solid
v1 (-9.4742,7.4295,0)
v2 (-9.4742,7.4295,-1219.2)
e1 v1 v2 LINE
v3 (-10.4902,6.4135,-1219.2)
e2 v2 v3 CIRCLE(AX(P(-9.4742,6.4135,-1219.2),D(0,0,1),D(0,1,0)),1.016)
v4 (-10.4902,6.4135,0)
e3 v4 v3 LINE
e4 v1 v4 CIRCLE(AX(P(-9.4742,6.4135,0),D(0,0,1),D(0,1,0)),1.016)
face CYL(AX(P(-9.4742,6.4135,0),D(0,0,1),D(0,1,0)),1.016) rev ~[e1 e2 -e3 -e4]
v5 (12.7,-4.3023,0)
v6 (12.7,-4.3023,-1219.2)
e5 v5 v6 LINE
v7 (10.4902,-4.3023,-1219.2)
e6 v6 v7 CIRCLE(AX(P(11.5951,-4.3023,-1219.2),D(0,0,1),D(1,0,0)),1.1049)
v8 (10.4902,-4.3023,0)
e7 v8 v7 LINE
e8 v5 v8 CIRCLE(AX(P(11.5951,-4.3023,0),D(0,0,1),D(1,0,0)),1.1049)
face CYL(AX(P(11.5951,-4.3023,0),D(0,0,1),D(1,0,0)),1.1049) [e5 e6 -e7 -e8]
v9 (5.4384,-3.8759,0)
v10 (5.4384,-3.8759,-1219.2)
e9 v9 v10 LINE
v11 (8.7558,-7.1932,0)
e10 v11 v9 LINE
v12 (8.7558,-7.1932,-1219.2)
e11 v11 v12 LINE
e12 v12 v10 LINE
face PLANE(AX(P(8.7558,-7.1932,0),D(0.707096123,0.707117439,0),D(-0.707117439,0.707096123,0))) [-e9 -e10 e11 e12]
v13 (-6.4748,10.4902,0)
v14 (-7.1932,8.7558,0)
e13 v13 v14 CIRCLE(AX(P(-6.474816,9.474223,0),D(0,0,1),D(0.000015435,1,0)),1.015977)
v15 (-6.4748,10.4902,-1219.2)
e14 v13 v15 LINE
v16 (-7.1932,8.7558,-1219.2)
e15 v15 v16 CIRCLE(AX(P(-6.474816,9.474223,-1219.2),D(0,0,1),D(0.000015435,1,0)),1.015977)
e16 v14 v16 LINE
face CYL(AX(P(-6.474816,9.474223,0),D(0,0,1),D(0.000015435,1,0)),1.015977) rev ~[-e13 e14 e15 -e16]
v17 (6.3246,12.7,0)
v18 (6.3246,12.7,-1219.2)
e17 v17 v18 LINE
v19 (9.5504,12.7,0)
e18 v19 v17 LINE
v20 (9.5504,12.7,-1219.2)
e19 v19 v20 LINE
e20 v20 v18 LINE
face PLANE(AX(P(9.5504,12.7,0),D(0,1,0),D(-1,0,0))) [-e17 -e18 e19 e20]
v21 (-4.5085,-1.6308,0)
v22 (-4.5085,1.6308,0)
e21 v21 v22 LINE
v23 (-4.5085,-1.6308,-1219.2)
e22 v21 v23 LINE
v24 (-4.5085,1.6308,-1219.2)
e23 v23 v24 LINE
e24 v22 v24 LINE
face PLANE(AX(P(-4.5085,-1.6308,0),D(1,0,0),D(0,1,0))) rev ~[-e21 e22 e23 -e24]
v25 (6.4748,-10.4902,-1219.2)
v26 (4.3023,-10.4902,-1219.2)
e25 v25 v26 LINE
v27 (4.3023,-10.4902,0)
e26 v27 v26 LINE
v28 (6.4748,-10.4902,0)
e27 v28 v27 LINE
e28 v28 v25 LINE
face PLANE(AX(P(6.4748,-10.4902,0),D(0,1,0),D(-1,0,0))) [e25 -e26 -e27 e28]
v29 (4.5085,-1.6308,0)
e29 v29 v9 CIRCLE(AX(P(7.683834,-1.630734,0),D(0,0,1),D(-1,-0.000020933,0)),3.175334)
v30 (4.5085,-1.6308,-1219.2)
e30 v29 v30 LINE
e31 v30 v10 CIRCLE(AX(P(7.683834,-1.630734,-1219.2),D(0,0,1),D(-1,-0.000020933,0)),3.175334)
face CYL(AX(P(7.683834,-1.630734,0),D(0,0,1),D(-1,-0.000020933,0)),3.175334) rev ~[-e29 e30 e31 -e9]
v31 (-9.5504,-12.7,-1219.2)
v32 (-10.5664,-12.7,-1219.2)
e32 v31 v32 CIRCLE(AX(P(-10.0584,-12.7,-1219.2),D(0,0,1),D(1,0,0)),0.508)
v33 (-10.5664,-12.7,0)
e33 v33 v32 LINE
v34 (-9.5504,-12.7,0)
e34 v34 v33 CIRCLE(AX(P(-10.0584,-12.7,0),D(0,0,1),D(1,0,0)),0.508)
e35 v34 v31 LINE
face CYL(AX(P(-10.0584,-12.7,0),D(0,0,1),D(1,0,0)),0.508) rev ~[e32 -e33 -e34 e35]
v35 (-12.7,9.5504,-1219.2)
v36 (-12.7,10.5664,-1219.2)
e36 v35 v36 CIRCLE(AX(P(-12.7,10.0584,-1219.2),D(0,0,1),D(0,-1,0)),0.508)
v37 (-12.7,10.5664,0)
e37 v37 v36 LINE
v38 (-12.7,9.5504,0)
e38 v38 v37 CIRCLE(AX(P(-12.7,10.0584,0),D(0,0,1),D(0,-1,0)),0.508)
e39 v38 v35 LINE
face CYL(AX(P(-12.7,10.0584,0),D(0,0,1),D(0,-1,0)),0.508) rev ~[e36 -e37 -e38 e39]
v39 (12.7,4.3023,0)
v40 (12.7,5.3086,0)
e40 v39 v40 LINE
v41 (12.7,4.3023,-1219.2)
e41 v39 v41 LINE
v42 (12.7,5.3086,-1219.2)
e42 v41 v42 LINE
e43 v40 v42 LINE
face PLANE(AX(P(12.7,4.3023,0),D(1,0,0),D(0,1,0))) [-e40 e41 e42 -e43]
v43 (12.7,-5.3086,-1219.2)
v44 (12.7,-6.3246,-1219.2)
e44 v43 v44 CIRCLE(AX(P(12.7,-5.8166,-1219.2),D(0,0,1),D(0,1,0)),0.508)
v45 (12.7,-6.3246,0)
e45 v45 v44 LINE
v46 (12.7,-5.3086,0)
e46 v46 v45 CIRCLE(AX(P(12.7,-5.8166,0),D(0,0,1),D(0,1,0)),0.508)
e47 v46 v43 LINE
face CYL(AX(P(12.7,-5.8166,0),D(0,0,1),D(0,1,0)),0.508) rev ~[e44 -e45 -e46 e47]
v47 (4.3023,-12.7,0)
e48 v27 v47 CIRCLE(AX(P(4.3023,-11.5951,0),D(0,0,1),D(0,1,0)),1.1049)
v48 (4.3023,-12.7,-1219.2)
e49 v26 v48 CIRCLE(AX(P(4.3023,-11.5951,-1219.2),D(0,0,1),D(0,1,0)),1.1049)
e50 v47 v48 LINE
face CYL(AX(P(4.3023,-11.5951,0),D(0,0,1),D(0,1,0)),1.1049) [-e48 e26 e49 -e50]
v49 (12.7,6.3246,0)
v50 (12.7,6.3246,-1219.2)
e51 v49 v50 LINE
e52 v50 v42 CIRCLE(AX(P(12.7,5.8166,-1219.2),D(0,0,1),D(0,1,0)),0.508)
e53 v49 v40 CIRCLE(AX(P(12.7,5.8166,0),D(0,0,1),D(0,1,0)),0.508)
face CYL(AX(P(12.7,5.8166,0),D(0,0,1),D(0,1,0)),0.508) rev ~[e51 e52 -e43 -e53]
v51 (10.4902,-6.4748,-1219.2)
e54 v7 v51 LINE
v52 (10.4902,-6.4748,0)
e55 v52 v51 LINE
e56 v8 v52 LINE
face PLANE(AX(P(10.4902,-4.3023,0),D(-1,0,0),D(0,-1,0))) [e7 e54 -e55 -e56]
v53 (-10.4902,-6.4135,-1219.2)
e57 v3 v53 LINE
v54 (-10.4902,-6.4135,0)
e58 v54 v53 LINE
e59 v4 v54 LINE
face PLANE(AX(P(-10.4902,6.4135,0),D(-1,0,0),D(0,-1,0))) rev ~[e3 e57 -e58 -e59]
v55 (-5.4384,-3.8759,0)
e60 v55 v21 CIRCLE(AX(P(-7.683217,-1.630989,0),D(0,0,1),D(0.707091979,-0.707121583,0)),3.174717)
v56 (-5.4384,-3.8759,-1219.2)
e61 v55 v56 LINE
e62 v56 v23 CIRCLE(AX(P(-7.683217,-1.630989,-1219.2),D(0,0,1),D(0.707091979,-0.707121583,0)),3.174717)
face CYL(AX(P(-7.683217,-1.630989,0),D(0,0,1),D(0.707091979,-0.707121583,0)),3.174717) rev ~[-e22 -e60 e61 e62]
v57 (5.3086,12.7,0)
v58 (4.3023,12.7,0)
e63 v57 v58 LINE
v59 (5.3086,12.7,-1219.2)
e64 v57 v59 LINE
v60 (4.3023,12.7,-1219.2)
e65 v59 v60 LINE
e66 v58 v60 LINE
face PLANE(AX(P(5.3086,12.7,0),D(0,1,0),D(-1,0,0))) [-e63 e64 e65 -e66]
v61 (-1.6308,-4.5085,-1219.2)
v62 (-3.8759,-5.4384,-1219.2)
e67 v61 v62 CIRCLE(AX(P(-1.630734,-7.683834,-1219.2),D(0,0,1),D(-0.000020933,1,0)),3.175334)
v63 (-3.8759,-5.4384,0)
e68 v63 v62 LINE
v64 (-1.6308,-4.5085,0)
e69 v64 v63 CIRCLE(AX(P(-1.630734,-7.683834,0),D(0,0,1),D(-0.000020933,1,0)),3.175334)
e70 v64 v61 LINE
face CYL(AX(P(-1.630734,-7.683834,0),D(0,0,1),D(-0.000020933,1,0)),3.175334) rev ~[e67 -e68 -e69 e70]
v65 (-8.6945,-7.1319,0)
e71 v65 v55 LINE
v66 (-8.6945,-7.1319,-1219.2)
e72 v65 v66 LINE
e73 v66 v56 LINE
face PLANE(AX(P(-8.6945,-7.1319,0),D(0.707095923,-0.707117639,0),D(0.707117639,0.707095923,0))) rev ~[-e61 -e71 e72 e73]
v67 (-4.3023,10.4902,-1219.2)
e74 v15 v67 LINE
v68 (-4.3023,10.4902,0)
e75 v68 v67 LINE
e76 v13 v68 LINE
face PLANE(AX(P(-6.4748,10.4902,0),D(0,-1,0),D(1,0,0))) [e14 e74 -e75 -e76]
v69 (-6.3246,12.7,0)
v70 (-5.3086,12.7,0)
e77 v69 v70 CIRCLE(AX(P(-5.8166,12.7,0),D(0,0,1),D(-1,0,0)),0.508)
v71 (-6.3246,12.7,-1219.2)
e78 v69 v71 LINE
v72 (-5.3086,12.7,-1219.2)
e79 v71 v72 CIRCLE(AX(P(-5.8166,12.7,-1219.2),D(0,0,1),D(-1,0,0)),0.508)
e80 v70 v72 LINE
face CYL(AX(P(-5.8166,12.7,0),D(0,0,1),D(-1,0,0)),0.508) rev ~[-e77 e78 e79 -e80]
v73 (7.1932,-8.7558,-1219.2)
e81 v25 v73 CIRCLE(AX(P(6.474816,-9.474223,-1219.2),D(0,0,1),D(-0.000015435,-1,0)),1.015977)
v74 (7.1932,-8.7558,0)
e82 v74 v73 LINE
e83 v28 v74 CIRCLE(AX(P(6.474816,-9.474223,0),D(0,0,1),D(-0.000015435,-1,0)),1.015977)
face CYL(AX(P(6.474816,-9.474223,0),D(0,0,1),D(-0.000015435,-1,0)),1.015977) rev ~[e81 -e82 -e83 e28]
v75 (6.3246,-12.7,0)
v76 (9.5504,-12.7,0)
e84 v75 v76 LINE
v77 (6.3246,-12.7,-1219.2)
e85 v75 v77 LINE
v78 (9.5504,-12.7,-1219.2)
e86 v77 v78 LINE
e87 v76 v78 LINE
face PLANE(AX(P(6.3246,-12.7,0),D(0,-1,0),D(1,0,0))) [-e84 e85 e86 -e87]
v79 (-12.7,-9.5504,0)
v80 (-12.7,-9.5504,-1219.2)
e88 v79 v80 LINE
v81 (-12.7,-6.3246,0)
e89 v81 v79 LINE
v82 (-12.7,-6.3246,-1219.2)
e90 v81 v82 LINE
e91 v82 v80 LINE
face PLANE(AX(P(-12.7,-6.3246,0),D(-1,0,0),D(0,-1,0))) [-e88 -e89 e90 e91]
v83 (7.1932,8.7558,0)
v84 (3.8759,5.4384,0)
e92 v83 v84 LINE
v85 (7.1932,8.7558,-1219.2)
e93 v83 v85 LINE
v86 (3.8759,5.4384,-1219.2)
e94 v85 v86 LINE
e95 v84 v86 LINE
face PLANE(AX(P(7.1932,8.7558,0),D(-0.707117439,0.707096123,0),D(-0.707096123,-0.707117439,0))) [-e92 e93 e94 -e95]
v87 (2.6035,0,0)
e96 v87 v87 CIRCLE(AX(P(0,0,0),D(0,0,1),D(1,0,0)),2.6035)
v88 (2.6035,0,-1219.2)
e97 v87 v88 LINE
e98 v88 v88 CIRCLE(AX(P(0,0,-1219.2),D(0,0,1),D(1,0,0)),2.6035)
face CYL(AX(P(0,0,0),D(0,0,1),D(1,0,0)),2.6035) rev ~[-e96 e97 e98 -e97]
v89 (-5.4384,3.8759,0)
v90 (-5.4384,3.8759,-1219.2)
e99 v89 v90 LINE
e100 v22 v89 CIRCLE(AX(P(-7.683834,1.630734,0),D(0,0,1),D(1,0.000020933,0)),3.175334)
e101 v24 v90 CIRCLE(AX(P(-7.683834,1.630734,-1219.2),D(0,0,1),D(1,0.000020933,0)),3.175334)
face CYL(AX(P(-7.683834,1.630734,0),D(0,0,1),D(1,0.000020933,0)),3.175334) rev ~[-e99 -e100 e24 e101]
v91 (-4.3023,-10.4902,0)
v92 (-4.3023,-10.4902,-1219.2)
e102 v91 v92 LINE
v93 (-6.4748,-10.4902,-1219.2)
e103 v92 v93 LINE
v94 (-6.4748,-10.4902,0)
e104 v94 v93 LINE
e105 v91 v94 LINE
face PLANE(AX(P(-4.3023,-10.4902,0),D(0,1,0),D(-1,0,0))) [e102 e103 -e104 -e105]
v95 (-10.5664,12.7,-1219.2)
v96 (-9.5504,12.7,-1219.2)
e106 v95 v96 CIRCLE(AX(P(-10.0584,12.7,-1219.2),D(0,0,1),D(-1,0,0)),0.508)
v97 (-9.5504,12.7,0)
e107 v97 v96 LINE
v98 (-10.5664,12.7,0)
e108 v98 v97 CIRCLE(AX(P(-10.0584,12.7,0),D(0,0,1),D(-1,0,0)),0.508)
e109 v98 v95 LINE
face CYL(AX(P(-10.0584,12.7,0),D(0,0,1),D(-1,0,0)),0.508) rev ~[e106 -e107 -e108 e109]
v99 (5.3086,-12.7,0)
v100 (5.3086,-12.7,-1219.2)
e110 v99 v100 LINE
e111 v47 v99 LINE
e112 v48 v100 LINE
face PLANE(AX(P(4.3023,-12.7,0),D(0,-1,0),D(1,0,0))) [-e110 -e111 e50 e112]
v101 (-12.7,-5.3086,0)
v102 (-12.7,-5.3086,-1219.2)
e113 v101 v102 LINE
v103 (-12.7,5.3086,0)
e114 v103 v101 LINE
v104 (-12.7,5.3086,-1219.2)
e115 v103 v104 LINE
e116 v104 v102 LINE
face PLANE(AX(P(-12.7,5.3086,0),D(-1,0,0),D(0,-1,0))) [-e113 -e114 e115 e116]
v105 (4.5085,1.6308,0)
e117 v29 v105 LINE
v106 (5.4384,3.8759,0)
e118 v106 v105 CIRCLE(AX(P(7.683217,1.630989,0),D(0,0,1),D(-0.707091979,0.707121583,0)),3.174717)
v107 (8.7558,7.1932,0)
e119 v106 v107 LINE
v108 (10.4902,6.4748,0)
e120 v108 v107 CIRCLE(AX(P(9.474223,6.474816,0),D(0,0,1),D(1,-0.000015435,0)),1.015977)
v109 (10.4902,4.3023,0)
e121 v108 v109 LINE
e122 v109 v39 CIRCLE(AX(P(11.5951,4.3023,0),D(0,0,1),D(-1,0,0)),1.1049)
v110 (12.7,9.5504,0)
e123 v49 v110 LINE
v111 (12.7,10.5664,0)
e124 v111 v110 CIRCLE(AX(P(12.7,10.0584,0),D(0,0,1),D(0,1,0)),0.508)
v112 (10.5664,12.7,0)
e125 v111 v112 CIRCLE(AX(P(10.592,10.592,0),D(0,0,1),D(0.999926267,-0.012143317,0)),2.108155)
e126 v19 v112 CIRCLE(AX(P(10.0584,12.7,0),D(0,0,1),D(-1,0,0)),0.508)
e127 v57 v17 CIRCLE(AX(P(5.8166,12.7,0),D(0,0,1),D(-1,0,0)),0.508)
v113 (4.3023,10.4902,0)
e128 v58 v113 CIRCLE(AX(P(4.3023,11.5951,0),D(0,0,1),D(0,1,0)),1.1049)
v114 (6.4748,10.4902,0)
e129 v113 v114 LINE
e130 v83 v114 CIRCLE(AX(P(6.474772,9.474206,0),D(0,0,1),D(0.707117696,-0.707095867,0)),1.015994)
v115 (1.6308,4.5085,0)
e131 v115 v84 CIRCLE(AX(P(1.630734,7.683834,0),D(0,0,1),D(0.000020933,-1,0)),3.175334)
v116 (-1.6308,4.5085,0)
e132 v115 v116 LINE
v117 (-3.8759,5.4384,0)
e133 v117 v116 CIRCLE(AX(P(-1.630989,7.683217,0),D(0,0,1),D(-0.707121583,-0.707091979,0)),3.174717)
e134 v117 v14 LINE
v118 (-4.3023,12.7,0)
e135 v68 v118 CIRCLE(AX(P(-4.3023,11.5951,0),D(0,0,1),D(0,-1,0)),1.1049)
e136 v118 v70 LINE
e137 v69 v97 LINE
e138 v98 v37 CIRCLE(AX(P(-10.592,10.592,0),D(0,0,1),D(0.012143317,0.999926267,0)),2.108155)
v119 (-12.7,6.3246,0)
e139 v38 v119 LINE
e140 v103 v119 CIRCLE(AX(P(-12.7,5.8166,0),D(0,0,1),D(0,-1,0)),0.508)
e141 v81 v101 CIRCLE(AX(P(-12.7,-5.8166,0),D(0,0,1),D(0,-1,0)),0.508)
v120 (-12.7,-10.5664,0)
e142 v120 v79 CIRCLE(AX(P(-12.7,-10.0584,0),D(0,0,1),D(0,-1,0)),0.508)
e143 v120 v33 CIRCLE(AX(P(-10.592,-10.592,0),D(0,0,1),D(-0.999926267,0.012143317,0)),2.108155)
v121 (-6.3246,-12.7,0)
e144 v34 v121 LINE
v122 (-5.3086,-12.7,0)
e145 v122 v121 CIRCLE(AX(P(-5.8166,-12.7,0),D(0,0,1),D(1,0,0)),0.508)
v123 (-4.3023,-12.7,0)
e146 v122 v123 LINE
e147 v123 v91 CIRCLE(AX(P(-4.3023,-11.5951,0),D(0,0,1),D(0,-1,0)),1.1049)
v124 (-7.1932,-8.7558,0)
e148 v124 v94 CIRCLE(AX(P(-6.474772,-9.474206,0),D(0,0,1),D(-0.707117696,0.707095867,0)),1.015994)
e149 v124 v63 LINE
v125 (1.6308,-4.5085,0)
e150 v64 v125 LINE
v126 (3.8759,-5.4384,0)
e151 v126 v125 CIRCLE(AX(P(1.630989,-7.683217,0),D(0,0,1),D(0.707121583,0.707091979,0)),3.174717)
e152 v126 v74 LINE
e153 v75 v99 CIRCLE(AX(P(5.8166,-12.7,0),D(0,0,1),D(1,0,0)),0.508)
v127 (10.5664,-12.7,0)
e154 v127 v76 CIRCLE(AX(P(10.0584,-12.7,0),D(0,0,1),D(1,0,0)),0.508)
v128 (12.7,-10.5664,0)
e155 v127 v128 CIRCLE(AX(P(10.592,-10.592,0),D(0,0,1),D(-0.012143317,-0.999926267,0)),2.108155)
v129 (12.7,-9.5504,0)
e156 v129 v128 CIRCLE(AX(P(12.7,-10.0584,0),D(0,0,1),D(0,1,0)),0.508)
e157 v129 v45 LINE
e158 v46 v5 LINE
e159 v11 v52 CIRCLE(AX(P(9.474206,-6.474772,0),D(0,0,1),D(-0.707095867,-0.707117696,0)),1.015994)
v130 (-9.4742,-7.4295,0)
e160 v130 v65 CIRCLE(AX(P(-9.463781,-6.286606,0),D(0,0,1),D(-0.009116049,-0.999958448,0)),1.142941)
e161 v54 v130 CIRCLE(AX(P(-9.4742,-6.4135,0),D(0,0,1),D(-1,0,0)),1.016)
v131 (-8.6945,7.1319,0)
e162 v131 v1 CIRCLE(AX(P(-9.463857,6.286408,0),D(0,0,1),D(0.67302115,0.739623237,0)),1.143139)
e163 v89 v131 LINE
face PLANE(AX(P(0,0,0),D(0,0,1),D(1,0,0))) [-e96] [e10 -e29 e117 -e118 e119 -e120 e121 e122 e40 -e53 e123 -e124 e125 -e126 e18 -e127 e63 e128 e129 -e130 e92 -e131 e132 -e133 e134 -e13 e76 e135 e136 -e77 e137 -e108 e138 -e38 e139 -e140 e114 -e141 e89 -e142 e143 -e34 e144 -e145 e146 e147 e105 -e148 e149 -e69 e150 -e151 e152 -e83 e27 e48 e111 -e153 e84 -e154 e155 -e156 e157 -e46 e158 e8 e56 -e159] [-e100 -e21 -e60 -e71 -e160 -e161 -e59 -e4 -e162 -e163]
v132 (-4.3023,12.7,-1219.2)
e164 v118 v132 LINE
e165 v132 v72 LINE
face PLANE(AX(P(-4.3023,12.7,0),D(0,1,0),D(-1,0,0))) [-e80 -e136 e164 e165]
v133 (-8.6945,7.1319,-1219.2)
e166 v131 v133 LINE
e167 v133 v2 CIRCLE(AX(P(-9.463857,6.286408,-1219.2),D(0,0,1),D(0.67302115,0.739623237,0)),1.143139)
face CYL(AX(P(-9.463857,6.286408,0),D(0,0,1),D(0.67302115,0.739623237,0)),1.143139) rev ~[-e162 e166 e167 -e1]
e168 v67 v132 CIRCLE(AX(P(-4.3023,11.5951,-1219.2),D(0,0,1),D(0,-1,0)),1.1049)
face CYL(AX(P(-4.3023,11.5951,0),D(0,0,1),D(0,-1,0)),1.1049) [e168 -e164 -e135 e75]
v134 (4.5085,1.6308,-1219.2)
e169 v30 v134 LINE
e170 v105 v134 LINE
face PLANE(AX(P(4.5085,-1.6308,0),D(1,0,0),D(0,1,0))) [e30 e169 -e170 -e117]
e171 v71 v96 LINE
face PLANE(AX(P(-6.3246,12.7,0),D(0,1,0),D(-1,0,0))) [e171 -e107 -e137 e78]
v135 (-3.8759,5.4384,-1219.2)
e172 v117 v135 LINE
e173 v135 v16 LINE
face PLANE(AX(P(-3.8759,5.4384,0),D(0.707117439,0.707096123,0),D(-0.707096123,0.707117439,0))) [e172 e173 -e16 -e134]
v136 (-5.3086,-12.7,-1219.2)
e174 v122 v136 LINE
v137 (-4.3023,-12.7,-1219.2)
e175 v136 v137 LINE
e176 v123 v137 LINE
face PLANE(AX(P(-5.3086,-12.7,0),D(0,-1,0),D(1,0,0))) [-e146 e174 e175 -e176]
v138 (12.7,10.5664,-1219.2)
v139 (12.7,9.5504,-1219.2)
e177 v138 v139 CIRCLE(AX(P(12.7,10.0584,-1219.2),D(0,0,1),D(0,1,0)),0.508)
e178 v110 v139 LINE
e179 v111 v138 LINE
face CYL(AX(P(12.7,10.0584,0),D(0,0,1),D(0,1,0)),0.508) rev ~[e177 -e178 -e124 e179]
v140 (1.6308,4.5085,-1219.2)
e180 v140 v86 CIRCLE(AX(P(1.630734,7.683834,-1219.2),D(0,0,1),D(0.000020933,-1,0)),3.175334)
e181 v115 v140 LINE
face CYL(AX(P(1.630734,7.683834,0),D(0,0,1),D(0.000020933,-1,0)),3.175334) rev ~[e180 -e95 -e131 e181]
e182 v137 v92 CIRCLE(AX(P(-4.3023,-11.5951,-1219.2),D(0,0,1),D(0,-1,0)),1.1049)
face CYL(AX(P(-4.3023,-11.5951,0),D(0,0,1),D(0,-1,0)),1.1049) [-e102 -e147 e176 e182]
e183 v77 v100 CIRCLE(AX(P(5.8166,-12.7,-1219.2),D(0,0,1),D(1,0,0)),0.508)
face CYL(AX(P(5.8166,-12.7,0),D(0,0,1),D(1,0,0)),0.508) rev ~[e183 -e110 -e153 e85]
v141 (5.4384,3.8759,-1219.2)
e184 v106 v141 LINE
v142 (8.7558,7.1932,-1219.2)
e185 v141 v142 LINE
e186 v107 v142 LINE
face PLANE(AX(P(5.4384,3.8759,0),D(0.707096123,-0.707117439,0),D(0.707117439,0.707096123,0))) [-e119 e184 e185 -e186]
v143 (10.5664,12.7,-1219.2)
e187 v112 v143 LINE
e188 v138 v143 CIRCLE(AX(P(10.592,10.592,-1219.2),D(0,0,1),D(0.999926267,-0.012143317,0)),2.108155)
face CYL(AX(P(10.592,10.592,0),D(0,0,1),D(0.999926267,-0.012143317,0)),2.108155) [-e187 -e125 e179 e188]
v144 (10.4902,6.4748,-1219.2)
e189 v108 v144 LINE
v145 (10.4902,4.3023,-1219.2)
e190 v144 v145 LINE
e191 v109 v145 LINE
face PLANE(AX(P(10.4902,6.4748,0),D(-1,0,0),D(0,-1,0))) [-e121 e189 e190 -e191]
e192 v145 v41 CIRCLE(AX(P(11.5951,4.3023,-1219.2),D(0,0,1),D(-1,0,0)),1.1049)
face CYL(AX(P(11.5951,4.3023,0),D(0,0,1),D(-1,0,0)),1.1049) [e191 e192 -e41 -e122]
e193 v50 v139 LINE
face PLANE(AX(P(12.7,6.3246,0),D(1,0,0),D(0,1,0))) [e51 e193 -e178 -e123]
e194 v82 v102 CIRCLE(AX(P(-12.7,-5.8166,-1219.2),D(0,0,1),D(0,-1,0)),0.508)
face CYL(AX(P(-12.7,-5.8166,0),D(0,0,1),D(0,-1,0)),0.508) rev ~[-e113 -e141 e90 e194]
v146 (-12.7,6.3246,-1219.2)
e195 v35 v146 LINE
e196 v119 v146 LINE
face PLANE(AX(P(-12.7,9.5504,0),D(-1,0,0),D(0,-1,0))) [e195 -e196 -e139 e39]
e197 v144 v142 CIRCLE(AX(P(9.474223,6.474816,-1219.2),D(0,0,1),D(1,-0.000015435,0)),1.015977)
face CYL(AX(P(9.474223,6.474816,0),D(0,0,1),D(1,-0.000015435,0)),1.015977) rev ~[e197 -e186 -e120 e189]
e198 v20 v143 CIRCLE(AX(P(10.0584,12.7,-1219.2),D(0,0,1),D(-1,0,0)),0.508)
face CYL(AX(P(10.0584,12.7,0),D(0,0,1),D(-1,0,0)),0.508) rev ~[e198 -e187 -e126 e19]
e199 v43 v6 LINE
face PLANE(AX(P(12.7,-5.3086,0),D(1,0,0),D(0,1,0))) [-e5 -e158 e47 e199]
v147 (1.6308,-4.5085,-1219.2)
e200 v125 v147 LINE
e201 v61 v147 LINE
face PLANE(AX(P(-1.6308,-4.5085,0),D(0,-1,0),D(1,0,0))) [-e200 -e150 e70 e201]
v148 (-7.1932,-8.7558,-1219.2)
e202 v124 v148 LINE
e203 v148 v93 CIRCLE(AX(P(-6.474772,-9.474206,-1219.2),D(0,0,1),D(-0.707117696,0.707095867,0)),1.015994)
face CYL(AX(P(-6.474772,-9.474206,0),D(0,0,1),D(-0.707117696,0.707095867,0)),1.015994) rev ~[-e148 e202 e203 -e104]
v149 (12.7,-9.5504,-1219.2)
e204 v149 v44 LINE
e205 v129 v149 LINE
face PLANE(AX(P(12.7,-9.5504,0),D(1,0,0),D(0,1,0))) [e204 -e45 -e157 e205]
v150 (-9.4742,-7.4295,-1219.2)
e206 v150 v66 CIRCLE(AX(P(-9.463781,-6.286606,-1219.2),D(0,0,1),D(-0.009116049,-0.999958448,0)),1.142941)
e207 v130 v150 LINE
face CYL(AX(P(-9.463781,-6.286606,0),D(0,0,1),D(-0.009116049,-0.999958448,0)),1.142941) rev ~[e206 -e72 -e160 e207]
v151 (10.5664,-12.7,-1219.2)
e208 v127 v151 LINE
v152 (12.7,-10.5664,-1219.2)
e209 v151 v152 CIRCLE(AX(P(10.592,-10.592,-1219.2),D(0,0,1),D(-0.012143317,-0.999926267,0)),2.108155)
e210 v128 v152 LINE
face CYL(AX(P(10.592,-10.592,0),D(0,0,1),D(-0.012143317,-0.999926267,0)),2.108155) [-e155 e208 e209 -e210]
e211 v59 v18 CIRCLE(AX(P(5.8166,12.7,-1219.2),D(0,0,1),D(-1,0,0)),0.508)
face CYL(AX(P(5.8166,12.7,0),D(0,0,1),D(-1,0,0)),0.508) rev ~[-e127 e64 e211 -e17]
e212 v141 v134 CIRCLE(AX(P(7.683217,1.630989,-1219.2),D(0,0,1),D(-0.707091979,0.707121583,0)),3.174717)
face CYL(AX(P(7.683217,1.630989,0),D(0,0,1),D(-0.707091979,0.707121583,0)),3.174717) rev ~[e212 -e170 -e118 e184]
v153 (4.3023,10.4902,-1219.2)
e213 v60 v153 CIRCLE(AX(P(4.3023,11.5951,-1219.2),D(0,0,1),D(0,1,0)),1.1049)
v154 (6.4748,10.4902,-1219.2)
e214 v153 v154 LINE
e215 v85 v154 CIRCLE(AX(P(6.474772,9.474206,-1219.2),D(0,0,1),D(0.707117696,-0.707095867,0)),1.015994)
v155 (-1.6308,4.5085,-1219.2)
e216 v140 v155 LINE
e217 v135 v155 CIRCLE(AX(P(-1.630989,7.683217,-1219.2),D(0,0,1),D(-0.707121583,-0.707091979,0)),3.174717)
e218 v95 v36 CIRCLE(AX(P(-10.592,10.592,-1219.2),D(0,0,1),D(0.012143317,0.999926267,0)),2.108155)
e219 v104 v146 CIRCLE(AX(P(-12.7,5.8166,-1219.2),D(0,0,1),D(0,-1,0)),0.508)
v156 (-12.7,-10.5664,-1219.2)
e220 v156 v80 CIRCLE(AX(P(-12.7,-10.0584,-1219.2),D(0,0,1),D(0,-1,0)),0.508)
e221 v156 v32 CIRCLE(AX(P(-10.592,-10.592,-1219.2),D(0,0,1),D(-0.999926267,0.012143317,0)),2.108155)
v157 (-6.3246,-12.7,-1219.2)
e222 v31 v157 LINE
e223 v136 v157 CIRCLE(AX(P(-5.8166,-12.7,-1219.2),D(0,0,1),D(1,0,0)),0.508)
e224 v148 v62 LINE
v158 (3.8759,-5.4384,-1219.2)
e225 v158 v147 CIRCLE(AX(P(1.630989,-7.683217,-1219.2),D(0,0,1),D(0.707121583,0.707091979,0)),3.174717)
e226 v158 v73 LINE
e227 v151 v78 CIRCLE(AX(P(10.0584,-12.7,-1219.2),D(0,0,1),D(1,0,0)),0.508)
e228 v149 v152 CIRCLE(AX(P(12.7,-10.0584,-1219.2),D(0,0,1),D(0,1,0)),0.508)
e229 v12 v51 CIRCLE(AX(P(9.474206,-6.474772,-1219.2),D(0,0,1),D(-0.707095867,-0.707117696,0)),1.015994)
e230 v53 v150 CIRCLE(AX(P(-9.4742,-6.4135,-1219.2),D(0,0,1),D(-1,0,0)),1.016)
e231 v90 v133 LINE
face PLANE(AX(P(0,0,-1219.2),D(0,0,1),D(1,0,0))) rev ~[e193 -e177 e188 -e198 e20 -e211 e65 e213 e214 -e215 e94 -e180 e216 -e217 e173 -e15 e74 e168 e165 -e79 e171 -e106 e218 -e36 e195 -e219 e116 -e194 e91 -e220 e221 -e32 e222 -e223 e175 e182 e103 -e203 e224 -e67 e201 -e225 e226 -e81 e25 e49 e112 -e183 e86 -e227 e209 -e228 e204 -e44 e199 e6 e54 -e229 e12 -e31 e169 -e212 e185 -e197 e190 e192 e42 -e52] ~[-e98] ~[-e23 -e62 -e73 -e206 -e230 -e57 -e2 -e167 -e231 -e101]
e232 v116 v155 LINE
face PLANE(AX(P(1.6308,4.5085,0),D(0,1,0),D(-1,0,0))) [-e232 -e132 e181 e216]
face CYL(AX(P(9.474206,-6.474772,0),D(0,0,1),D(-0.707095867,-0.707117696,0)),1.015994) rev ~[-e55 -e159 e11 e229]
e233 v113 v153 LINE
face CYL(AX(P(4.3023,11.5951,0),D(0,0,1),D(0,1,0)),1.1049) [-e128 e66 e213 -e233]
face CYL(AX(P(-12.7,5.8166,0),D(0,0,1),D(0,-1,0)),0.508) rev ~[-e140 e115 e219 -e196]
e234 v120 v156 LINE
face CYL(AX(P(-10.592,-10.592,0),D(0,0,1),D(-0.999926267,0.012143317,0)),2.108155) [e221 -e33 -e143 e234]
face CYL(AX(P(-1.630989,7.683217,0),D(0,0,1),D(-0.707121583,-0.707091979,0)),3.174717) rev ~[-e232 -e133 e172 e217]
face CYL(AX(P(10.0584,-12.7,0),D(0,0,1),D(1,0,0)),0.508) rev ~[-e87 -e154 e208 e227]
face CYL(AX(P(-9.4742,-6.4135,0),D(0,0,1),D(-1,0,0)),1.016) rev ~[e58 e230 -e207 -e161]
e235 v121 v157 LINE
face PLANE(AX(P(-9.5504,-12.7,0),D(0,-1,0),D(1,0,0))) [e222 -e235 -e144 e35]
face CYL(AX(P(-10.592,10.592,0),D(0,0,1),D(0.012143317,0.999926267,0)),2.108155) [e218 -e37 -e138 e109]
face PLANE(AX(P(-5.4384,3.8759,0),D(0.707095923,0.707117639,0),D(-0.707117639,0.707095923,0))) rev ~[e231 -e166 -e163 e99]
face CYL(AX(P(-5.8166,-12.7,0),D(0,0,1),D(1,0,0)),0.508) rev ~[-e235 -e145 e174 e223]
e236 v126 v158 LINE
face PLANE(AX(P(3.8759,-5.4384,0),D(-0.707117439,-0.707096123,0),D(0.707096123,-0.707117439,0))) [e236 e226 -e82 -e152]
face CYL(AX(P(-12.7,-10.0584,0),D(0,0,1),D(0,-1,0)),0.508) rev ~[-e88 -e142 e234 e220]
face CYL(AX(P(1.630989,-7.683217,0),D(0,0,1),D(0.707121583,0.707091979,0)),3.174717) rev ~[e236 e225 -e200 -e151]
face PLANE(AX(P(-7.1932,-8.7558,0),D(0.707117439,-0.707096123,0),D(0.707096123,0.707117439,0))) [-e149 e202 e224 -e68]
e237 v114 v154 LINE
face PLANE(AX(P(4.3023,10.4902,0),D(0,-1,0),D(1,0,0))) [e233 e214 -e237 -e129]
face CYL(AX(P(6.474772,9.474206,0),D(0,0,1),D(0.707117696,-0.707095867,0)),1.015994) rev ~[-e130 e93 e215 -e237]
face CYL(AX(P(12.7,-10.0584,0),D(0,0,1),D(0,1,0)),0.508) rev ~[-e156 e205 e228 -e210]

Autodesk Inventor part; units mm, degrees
ref_plane "YZ Plane" through (0, 0, 0) normal (1, 0, 0) x (0, 1, 0)
ref_plane "XZ Plane" through (0, 0, 0) normal (0, 1, 0) x (-1, 0, 0)
ref_plane "XY Plane" through (0, 0, 0) normal (0, 0, 1) x (1, 0, 0)
sketch "Sketch_1" plane through (0, 0, 0) normal (0, 0, 1) x (1, 0, 0)
  arc A0 (-12.7, -10.5664) -> (-10.5664, -12.7) centre (-10.592, -10.592) ccw
  arc A1 (-9.5504, -12.7) -> (-10.5664, -12.7) centre (-10.0584, -12.7) ccw
  line L0 (-9.5504, -12.7) -> (-6.3246, -12.7)
  arc A2 (-5.3086, -12.7) -> (-6.3246, -12.7) centre (-5.8166, -12.7) ccw
  line L1 (-5.3086, -12.7) -> (-4.3023, -12.7)
  arc A3 (-4.3023, -12.7) -> (-4.3023, -10.4902) centre (-4.3023, -11.5951) ccw
  line L2 (-4.3023, -10.4902) -> (-6.4748, -10.4902)
  arc A4 (-7.1932, -8.7558) -> (-6.4748, -10.4902) centre (-6.4748, -9.4742) ccw
  line L3 (-7.1932, -8.7558) -> (-3.8759, -5.4384)
  arc A5 (-1.6308, -4.5085) -> (-3.8759, -5.4384) centre (-1.6308, -7.6835) ccw
  line L4 (-1.6308, -4.5085) -> (1.6308, -4.5085)
  arc A6 (3.8759, -5.4384) -> (1.6308, -4.5085) centre (1.6308, -7.6835) ccw
  line L5 (3.8759, -5.4384) -> (7.1932, -8.7558)
  arc A7 (6.4748, -10.4902) -> (7.1932, -8.7558) centre (6.4748, -9.4742) ccw
  line L6 (6.4748, -10.4902) -> (4.3023, -10.4902)
  arc A8 (4.3023, -10.4902) -> (4.3023, -12.7) centre (4.3023, -11.5951) ccw
  line L7 (4.3023, -12.7) -> (5.3086, -12.7)
  arc A9 (6.3246, -12.7) -> (5.3086, -12.7) centre (5.8166, -12.7) ccw
  line L8 (6.3246, -12.7) -> (9.5504, -12.7)
  arc A10 (10.5664, -12.7) -> (9.5504, -12.7) centre (10.0584, -12.7) ccw
  arc A11 (10.5664, -12.7) -> (12.7, -10.5664) centre (10.592, -10.592) ccw
  arc A12 (12.7, -9.5504) -> (12.7, -10.5664) centre (12.7, -10.0584) ccw
  line L9 (12.7, -9.5504) -> (12.7, -6.3246)
  arc A13 (12.7, -5.3086) -> (12.7, -6.3246) centre (12.7, -5.8166) ccw
  line L10 (12.7, -5.3086) -> (12.7, -4.3023)
  arc A14 (12.7, -4.3023) -> (10.4902, -4.3023) centre (11.5951, -4.3023) ccw
  line L11 (10.4902, -4.3023) -> (10.4902, -6.4748)
  arc A15 (8.7558, -7.1932) -> (10.4902, -6.4748) centre (9.4742, -6.4748) ccw
  line L12 (8.7558, -7.1932) -> (5.4384, -3.8759)
  arc A16 (4.5085, -1.6308) -> (5.4384, -3.8759) centre (7.6835, -1.6308) ccw
  line L13 (4.5085, -1.6308) -> (4.5085, 1.6308)
  arc A17 (5.4384, 3.8759) -> (4.5085, 1.6308) centre (7.6835, 1.6308) ccw
  line L14 (5.4384, 3.8759) -> (8.7558, 7.1932)
  arc A18 (10.4902, 6.4748) -> (8.7558, 7.1932) centre (9.4742, 6.4748) ccw
  line L15 (10.4902, 6.4748) -> (10.4902, 4.3023)
  arc A19 (10.4902, 4.3023) -> (12.7, 4.3023) centre (11.5951, 4.3023) ccw
  line L16 (12.7, 4.3023) -> (12.7, 5.3086)
  arc A20 (12.7, 6.3246) -> (12.7, 5.3086) centre (12.7, 5.8166) ccw
  line L17 (12.7, 6.3246) -> (12.7, 9.5504)
  arc A21 (12.7, 10.5664) -> (12.7, 9.5504) centre (12.7, 10.0584) ccw
  arc A22 (12.7, 10.5664) -> (10.5664, 12.7) centre (10.592, 10.592) ccw
  arc A23 (9.5504, 12.7) -> (10.5664, 12.7) centre (10.0584, 12.7) ccw
  line L18 (9.5504, 12.7) -> (6.3246, 12.7)
  arc A24 (5.3086, 12.7) -> (6.3246, 12.7) centre (5.8166, 12.7) ccw
  line L19 (5.3086, 12.7) -> (4.3023, 12.7)
  arc A25 (4.3023, 12.7) -> (4.3023, 10.4902) centre (4.3023, 11.5951) ccw
  line L20 (4.3023, 10.4902) -> (6.4748, 10.4902)
  arc A26 (7.1932, 8.7558) -> (6.4748, 10.4902) centre (6.4748, 9.4742) ccw
  line L21 (7.1932, 8.7558) -> (3.8759, 5.4384)
  arc A27 (1.6308, 4.5085) -> (3.8759, 5.4384) centre (1.6308, 7.6835) ccw
  line L22 (1.6308, 4.5085) -> (-1.6308, 4.5085)
  arc A28 (-3.8759, 5.4384) -> (-1.6308, 4.5085) centre (-1.6308, 7.6835) ccw
  line L23 (-3.8759, 5.4384) -> (-7.1932, 8.7558)
  arc A29 (-6.4748, 10.4902) -> (-7.1932, 8.7558) centre (-6.4748, 9.4742) ccw
  line L24 (-6.4748, 10.4902) -> (-4.3023, 10.4902)
  arc A30 (-4.3023, 10.4902) -> (-4.3023, 12.7) centre (-4.3023, 11.5951) ccw
  line L25 (-4.3023, 12.7) -> (-5.3086, 12.7)
  arc A31 (-6.3246, 12.7) -> (-5.3086, 12.7) centre (-5.8166, 12.7) ccw
  line L26 (-6.3246, 12.7) -> (-9.5504, 12.7)
  arc A32 (-10.5664, 12.7) -> (-9.5504, 12.7) centre (-10.0584, 12.7) ccw
  arc A33 (-10.5664, 12.7) -> (-12.7, 10.5664) centre (-10.592, 10.592) ccw
  arc A34 (-12.7, 9.5504) -> (-12.7, 10.5664) centre (-12.7, 10.0584) ccw
  line L27 (-12.7, 9.5504) -> (-12.7, 6.3246)
  arc A35 (-12.7, 5.3086) -> (-12.7, 6.3246) centre (-12.7, 5.8166) ccw
  line L28 (-12.7, 5.3086) -> (-12.7, -5.3086)
  arc A36 (-12.7, -6.3246) -> (-12.7, -5.3086) centre (-12.7, -5.8166) ccw
  line L29 (-12.7, -6.3246) -> (-12.7, -9.5504)
  arc A37 (-12.7, -10.5664) -> (-12.7, -9.5504) centre (-12.7, -10.0584) ccw
  circle A38 centre (0, 0) radius 2.6035
  arc A39 (-10.4902, -6.4135) -> (-9.4742, -7.4295) centre (-9.4742, -6.4135) ccw
  arc A40 (-9.4742, -7.4295) -> (-8.6945, -7.1319) centre (-9.4638, -6.2865) ccw
  line L30 (-8.6945, -7.1319) -> (-5.4384, -3.8759)
  arc A41 (-5.4384, -3.8759) -> (-4.5085, -1.6308) centre (-7.6835, -1.6308) ccw
  line L31 (-4.5085, -1.6308) -> (-4.5085, 1.6308)
  arc A42 (-4.5085, 1.6308) -> (-5.4384, 3.8759) centre (-7.6835, 1.6308) ccw
  line L32 (-5.4384, 3.8759) -> (-8.6945, 7.1319)
  arc A43 (-8.6945, 7.1319) -> (-9.4742, 7.4295) centre (-9.4638, 6.2865) ccw
  arc A44 (-9.4742, 7.4295) -> (-10.4902, 6.4135) centre (-9.4742, 6.4135) ccw
  line L33 (-10.4902, 6.4135) -> (-10.4902, -6.4135)
extrude "Extrusion1" add sketch "Sketch_1" against normal blind 1219.2
properties part number "1003-48-CL"
